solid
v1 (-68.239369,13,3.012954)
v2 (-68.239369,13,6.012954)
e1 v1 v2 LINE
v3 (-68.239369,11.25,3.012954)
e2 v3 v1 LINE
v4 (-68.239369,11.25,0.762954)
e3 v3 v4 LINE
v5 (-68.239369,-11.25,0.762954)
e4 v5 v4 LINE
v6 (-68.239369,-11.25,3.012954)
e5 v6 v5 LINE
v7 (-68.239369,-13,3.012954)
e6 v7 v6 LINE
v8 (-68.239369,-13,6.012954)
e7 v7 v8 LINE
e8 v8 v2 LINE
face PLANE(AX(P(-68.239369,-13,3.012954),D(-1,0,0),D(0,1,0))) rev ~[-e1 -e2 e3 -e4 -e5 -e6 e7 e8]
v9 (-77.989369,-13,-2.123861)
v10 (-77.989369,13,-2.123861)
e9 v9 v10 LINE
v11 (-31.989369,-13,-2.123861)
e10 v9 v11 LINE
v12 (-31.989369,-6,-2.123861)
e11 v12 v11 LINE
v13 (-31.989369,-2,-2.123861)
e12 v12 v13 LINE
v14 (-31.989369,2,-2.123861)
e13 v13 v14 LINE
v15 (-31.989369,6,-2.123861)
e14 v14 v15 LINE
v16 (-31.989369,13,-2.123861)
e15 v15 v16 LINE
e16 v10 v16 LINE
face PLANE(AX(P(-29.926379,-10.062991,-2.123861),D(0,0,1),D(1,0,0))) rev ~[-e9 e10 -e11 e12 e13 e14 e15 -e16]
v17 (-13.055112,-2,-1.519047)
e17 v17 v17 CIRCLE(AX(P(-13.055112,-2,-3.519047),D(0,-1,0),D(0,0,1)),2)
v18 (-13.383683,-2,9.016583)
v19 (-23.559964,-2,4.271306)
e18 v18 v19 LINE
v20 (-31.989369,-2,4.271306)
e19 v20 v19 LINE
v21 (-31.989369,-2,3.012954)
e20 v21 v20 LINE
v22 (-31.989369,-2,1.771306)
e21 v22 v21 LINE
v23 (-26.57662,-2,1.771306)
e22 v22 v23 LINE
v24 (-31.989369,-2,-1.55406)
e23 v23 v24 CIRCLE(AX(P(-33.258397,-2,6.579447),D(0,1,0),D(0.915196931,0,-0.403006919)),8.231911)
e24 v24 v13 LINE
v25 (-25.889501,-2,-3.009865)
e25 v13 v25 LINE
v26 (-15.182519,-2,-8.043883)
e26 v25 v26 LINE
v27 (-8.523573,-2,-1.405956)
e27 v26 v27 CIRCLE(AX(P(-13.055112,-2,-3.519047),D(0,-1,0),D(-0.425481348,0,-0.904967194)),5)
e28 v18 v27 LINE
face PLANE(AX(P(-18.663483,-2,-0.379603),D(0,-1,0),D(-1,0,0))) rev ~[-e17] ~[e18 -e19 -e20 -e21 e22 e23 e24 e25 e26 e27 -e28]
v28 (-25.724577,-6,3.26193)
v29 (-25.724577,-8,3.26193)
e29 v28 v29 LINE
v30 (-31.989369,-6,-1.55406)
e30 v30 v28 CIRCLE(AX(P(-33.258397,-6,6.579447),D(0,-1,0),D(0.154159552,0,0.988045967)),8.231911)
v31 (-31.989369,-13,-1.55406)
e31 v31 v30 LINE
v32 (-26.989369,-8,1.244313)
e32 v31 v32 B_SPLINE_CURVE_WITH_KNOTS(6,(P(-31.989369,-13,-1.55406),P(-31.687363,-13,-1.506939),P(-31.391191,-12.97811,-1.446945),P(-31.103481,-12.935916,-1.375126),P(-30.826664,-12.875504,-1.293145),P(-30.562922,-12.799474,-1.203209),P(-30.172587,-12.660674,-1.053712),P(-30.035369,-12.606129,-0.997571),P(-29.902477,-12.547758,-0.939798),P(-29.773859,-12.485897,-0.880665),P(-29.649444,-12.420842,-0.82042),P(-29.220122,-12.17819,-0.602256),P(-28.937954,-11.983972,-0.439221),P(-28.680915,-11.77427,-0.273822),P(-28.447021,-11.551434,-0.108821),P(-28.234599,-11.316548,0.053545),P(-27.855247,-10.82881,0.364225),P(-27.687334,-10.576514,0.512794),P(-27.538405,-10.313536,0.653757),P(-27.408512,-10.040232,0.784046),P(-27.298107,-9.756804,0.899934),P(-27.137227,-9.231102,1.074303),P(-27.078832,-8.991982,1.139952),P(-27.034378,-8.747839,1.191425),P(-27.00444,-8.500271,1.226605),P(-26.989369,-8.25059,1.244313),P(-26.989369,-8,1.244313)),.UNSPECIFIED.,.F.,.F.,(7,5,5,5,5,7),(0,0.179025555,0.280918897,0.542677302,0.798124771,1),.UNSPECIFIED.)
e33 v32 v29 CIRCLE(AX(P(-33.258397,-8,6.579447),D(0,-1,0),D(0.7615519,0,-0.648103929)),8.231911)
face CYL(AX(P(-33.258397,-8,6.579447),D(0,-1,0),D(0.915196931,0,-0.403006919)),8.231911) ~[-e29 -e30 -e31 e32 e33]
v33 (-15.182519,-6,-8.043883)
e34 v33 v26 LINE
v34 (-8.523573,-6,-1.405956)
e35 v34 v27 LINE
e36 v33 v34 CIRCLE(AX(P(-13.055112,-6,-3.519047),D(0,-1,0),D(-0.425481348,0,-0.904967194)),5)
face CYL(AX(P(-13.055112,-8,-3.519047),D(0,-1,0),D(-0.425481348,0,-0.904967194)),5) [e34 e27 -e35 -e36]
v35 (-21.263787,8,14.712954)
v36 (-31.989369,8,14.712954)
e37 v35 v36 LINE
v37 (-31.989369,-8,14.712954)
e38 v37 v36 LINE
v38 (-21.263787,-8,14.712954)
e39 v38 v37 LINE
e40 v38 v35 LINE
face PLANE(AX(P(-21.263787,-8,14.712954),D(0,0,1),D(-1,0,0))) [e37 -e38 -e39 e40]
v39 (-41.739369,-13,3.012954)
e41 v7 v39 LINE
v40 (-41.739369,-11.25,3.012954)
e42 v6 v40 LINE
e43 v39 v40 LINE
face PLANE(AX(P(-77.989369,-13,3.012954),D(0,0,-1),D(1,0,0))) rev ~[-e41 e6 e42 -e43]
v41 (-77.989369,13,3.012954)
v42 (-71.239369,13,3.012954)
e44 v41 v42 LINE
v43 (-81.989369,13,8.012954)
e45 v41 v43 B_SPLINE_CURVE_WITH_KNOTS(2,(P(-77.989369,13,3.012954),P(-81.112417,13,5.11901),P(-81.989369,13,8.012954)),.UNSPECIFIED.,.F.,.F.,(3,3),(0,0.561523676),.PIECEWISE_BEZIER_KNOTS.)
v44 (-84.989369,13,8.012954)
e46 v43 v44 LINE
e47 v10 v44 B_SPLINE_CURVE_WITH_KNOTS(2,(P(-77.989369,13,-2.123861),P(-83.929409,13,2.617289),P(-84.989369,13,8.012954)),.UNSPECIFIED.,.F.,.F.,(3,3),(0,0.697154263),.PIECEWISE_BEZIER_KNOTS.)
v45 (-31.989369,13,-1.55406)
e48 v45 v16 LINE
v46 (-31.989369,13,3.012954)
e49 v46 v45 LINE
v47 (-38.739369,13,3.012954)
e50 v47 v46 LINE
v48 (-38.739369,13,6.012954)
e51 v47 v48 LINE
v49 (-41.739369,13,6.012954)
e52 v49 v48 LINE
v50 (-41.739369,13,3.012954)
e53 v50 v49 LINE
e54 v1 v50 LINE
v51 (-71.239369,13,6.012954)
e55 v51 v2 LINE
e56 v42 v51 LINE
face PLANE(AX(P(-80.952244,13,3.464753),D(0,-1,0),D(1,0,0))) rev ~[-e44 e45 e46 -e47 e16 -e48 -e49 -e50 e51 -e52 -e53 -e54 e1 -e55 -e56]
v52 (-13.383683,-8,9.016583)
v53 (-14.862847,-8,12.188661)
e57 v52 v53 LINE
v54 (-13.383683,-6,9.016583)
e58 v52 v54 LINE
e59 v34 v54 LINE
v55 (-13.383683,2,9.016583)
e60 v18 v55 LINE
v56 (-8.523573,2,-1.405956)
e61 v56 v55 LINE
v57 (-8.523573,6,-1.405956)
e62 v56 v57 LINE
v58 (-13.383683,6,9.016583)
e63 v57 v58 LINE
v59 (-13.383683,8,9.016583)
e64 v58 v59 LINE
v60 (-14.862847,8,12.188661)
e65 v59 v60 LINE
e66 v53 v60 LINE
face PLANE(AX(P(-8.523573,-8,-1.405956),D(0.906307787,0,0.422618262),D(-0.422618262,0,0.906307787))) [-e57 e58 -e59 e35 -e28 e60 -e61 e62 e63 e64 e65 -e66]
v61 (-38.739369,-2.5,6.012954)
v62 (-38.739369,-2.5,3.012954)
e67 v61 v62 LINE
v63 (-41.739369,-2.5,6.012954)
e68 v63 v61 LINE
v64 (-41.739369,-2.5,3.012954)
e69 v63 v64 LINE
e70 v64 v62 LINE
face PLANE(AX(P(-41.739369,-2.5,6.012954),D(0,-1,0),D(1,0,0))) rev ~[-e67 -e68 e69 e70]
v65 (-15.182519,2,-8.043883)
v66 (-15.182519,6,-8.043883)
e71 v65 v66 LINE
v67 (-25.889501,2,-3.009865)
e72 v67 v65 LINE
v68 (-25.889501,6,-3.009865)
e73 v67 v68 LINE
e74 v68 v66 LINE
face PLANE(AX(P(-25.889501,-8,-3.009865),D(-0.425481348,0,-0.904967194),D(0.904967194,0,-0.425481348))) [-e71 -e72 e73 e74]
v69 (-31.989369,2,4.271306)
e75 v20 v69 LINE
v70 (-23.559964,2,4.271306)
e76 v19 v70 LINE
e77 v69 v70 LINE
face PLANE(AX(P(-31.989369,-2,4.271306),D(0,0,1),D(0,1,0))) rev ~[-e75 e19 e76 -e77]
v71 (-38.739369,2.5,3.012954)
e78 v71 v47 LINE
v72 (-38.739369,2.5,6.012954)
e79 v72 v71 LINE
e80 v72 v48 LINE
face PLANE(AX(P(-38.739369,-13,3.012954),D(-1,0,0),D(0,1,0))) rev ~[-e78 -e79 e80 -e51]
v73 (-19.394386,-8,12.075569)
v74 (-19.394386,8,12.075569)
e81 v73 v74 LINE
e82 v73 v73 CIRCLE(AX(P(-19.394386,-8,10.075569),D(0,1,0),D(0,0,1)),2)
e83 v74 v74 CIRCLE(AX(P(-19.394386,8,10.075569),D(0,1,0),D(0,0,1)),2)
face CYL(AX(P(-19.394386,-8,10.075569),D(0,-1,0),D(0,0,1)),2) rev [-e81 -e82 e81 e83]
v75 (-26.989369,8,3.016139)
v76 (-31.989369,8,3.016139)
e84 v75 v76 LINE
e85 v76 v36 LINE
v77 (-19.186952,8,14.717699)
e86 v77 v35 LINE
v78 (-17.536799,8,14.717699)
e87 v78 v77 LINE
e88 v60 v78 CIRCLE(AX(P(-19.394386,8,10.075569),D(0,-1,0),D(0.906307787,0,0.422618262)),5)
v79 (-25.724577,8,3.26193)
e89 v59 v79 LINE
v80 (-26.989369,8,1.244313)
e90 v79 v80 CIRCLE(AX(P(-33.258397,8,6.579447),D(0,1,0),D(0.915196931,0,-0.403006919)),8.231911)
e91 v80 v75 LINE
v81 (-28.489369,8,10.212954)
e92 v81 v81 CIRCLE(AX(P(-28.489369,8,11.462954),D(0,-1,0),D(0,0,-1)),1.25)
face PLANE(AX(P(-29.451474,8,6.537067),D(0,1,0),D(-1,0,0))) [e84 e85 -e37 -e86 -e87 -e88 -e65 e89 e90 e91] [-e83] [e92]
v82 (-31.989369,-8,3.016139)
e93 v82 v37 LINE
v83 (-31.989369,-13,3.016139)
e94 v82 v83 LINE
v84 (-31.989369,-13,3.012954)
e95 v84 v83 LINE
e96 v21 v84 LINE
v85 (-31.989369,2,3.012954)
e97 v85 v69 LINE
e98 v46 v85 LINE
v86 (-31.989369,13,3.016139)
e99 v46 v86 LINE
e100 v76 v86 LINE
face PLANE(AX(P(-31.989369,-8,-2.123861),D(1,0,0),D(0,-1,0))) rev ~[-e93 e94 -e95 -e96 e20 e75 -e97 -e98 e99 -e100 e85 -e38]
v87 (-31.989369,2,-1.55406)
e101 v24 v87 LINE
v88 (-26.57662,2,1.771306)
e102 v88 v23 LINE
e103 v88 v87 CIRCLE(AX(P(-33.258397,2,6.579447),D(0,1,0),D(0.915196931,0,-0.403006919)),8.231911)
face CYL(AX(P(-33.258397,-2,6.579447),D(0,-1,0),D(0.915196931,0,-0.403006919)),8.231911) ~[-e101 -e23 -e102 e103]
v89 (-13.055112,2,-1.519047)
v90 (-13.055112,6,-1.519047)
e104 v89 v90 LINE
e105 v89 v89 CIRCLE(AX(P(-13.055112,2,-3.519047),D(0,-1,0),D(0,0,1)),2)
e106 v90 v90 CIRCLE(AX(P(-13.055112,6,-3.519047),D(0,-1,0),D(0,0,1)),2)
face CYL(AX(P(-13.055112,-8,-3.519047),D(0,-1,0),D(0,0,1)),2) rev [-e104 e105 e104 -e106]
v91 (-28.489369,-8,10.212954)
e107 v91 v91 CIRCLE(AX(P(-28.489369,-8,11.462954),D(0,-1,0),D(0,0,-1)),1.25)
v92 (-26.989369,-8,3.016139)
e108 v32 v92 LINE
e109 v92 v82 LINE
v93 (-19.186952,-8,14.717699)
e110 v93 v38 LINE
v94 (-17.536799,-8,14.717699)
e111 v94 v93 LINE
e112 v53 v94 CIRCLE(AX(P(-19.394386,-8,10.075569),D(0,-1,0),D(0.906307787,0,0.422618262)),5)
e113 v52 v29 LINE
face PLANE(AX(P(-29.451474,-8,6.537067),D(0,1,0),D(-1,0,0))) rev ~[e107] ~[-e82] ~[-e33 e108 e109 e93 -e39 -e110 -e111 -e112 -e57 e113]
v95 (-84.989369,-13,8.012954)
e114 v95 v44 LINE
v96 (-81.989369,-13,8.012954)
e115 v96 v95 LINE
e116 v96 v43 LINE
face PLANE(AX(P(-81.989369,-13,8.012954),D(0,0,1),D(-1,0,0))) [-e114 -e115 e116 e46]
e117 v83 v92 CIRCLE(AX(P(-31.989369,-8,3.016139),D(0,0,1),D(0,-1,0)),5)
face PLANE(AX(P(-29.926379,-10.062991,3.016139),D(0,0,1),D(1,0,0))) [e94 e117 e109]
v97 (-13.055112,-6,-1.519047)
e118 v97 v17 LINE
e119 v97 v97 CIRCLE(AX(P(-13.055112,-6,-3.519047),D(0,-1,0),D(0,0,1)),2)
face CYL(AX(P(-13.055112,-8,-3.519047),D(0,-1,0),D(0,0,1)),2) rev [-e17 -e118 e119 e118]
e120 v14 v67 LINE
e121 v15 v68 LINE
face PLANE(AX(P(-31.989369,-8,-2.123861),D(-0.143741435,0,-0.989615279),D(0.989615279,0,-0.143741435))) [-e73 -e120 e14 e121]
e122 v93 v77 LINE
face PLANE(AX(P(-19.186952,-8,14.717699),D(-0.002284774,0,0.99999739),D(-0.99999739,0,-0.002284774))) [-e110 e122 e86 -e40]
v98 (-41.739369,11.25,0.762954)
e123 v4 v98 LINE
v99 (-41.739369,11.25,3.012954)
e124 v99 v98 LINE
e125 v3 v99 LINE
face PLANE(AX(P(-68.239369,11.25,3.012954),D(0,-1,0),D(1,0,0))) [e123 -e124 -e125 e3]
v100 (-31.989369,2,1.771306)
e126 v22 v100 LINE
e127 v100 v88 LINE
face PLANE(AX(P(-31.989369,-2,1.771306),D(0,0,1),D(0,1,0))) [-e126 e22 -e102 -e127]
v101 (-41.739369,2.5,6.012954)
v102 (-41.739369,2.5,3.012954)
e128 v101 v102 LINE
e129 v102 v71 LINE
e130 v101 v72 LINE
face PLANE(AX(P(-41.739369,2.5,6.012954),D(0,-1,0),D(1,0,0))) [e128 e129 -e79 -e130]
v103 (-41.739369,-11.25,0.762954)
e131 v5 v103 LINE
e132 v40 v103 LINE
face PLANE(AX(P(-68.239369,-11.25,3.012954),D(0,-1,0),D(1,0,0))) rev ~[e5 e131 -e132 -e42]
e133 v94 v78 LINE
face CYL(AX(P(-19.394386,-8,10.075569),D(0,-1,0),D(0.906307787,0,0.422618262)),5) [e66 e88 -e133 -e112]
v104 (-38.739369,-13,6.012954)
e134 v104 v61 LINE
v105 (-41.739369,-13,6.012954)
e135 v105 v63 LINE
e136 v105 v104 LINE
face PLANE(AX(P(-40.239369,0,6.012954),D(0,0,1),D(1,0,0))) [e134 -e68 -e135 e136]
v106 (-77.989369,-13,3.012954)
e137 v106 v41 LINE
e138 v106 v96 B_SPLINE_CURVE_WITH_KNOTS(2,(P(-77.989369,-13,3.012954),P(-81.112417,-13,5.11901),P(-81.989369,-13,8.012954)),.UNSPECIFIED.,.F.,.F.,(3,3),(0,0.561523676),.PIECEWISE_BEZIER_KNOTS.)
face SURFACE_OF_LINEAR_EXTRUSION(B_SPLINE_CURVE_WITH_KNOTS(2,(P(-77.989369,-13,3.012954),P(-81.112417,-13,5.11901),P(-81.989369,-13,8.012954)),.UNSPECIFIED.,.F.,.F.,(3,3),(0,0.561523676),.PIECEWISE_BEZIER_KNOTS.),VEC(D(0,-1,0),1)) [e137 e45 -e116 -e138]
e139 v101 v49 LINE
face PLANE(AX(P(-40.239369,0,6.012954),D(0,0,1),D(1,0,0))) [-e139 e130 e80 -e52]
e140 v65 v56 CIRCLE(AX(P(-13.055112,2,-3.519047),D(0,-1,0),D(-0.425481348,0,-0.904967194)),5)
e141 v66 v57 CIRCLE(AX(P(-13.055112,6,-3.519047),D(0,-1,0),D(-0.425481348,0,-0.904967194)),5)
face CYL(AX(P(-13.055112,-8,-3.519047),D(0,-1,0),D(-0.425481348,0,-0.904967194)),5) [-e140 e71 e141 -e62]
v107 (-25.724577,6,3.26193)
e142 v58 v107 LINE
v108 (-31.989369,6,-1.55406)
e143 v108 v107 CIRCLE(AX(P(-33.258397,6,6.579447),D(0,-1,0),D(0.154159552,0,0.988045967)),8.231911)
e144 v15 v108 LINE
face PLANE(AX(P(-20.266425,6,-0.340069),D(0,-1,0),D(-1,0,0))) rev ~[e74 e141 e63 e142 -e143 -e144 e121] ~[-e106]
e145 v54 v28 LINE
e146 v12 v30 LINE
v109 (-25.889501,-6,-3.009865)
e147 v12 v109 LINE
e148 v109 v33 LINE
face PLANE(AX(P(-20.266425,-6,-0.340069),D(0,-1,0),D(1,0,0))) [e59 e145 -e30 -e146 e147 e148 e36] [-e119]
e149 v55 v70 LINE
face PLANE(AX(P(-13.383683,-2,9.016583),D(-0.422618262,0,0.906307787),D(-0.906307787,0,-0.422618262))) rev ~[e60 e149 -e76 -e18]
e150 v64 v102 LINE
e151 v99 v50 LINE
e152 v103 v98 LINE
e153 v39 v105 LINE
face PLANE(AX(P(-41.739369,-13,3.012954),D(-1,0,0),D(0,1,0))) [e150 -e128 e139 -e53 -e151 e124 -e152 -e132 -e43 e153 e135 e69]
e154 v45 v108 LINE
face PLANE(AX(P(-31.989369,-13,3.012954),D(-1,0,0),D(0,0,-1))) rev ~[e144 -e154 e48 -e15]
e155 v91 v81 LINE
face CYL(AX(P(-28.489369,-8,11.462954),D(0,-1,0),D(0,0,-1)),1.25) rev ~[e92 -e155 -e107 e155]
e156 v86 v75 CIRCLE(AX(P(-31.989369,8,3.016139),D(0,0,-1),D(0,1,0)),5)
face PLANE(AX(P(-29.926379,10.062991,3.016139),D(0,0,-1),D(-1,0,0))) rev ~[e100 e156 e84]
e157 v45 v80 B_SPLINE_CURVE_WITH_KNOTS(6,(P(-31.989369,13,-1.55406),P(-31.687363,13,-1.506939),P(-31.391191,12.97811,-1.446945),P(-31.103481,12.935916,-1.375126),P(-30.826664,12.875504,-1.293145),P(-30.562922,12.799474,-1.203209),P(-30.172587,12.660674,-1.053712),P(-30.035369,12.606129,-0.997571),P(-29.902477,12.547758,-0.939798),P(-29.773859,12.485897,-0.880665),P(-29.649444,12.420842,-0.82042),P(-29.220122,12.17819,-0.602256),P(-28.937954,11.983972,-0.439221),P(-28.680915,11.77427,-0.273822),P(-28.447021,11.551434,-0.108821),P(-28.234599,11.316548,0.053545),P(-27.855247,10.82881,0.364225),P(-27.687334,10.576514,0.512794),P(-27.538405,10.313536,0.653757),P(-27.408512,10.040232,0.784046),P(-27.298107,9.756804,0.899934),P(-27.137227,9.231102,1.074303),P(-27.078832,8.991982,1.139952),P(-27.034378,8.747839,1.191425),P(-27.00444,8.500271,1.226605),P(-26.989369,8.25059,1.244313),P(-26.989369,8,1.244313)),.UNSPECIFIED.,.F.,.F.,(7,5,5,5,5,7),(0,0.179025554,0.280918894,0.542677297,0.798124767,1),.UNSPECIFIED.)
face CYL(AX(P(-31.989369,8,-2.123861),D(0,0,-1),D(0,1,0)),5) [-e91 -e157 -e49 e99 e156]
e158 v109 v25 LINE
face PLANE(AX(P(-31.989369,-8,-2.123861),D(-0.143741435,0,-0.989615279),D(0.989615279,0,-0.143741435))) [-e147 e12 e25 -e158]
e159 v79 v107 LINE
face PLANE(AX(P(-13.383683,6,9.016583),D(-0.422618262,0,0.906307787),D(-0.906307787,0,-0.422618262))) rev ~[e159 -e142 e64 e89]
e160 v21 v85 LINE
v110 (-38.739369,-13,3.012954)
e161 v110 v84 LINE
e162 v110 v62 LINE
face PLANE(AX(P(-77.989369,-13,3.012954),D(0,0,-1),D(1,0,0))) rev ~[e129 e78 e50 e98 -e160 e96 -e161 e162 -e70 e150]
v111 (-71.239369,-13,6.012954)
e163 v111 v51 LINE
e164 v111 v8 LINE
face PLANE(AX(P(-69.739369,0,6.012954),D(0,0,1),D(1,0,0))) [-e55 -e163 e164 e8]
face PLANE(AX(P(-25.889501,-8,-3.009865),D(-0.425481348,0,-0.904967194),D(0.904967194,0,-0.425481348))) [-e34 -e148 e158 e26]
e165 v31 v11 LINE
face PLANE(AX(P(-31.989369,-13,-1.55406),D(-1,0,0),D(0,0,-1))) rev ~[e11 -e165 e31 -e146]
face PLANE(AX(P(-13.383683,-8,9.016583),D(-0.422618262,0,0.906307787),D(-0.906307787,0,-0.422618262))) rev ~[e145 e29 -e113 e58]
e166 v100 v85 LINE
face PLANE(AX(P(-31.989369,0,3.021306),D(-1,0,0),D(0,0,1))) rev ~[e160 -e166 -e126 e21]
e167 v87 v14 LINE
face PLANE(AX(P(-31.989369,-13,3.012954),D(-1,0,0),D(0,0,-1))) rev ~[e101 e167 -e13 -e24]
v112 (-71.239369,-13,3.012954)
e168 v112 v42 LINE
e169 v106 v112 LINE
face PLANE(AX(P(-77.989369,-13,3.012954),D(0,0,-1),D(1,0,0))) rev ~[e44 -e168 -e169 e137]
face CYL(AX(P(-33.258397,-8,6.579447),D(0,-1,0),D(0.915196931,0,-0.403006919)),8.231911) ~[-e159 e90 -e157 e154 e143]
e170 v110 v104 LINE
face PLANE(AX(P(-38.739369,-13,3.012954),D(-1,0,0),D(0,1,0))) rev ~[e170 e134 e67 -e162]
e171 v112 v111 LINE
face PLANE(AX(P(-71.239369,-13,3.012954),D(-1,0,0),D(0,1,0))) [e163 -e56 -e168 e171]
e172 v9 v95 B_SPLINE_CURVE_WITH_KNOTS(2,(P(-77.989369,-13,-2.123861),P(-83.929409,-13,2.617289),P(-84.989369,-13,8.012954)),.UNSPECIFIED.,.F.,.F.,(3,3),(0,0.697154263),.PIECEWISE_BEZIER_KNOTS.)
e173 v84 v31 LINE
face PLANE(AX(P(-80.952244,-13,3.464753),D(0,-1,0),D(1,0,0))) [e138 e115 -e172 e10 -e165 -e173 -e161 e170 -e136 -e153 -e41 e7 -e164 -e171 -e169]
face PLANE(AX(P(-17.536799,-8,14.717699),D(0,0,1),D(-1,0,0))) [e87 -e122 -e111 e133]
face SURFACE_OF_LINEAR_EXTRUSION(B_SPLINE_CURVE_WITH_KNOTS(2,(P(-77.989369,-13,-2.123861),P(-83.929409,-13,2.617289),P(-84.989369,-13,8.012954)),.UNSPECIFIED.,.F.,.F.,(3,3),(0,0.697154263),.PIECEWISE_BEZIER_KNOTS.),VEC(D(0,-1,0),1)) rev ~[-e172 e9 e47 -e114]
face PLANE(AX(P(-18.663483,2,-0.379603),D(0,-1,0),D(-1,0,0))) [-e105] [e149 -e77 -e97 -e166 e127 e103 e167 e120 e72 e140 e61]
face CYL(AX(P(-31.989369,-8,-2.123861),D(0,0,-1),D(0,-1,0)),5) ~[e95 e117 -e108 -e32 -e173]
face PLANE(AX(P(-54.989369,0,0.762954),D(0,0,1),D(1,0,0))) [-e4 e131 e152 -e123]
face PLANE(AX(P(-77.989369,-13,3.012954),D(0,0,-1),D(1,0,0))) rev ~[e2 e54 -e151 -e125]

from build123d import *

# Parameters (mm, degrees)
BOSS_EXTRUDE1_DEPTH      = 8
BOSS_EXTRUDE1_DEPTH_BACK = 8
SKETCH2_R                = 2
CUT_EXTRUDE1_DEPTH       = 2
CUT_EXTRUDE2_START       = -2
CUT_EXTRUDE2_DEPTH       = 2
BOSS_EXTRUDE4_DEPTH      = 16
CUT_EXTRUDE4_DEPTH       = 2
CUT_EXTRUDE4_DEPTH_BACK  = 2
BOSS_EXTRUDE6_DEPTH      = 13
BOSS_EXTRUDE6_DEPTH_BACK = 13
SKETCH12_W               = 46
SKETCH12_H               = 5.136814738
SKETCH13_R               = 1.25
CUT_EXTRUDE5_DEPTH       = 16
BOSS_EXTRUDE7_DEPTH      = 26
SKETCH15_W               = 3
SKETCH15_H               = 26
BOSS_EXTRUDE8_DEPTH      = 3
SKETCH20_W               = 2.5
SKETCH20_H               = 4
CUT_EXTRUDE8_DEPTH       = 57.520887153
BOSS_EXTRUDE9_DEPTH      = 5.14
CUT_EXTRUDE9_START       = -5.14
CUT_EXTRUDE9_DEPTH       = 5.14
BOSS_EXTRUDE10_DEPTH     = 5.14
CUT_EXTRUDE10_DEPTH      = 5.14
SKETCH25_W               = 26.5
SKETCH25_H               = 22.5
CUT_EXTRUDE11_DEPTH      = 2.25
SKETCH26_W               = 3
SKETCH26_H               = 5
CUT_EXTRUDE12_DEPTH      = 3


with BuildPart() as part:
    # Sketch2 → Boss-Extrude1 (new, two sides: drawn at the far end of the back side and taken through both)
    with BuildSketch(Plane(origin=(0, 0, 0), x_dir=(1, 0, 0), z_dir=(0, 1, 0)).offset(-BOSS_EXTRUDE1_DEPTH_BACK)):
        with BuildLine():
            Line((-8.523572923, 1.405956139), (-14.862846849, -12.188660667))
            ThreePointArc((-14.862846849, -12.188660667), (-15.958655574, -13.708165939), (-17.536798633, -14.717699254))
            Line((-17.536798633, -14.717699254), (-19.186952062, -14.717699254))
            Line((-19.186952062, -14.717699254), (-21.263787389, -14.712954143))
            Line((-21.263787389, -14.712954143), (-31.98936925, -14.712954143))
            ThreePointArc((-31.98936925, -14.712954143), (-25.026485616, -6.579447275), (-31.98936925, 1.554059594))
            Line((-31.98936925, 1.554059594), (-31.98936925, 2.123860595))
            Line((-31.98936925, 2.123860595), (-25.889500724, 3.009865365))
            Line((-25.889500724, 3.009865365), (-15.1825186, 8.043883417))
            ThreePointArc((-15.1825186, 8.043883417), (-9.525170989, 7.060165556), (-8.523572923, 1.405956139))
        make_face()
        with Locations(Location((-19.394385785, -10.075569358, 0), (0, 0, 270))):
            Circle(SKETCH2_R, mode=Mode.SUBTRACT)
        with Locations(Location((-13.055111858, 3.519047448, 0), (0, 0, 270))):
            Circle(SKETCH2_R, mode=Mode.SUBTRACT)
    extrude(amount=BOSS_EXTRUDE1_DEPTH + BOSS_EXTRUDE1_DEPTH_BACK)

    # Sketch3 → Cut-Extrude1 (cut)
    with BuildSketch(Plane.XZ.offset(8)):
        with BuildLine():
            Line((-13.383682933, 9.016583412), (-36.019194906, -1.538529167))
            Line((-36.019194906, -1.538529167), (-25.889500724, -3.009865365))
            Line((-25.889500724, -3.009865365), (-15.1825186, -8.043883417))
            ThreePointArc((-15.1825186, -8.043883417), (-9.525170989, -7.060165556), (-8.523572923, -1.405956139))
            Line((-8.523572923, -1.405956139), (-13.383682933, 9.016583412))
        make_face()
    extrude(amount=-CUT_EXTRUDE1_DEPTH, mode=Mode.SUBTRACT)

    # Sketch4 → Cut-Extrude2 (cut)
    with BuildSketch(Plane(origin=(0, 8, 0), x_dir=(1, 0, 0), z_dir=(0, 1, 0)).offset(CUT_EXTRUDE2_START)):
        with BuildLine():
            Line((-13.383682933, -9.016583412), (-36.019194906, 1.538529167))
            Line((-36.019194906, 1.538529167), (-25.889500724, 3.009865365))
            Line((-25.889500724, 3.009865365), (-15.1825186, 8.043883417))
            ThreePointArc((-15.1825186, 8.043883417), (-9.525170989, 7.060165556), (-8.523572923, 1.405956139))
            Line((-8.523572923, 1.405956139), (-13.383682933, -9.016583412))
        make_face()
    extrude(amount=CUT_EXTRUDE2_DEPTH, mode=Mode.SUBTRACT)

    # Sketch7 → Boss-Extrude4 (add)
    with BuildSketch(Plane.XZ.offset(8)):
        with BuildLine():
            Line((-31.98936925, -1.554059594), (-31.98936925, 14.712954143))
            ThreePointArc((-31.98936925, 14.712954143), (-26.036622944, 10.530440134), (-25.724576966, 3.261930016))
            ThreePointArc((-25.724576966, 3.261930016), (-28.241329009, 0.053085809), (-31.98936925, -1.554059594))
        make_face()
    extrude(amount=-BOSS_EXTRUDE4_DEPTH)

    # Sketch10 → Cut-Extrude4 (cut, two sides: drawn at the far end of the back side and taken through both)
    with BuildSketch(Plane(origin=(0, 0, 0), x_dir=(1, 0, 0), z_dir=(0, 1, 0)).offset(-CUT_EXTRUDE4_DEPTH_BACK)):
        with BuildLine():
            Line((-25.889500724, 3.009865365), (-15.1825186, 8.043883417))
            ThreePointArc((-15.1825186, 8.043883417), (-9.525170989, 7.060165556), (-8.523572923, 1.405956139))
            Line((-8.523572923, 1.405956139), (-13.383682933, -9.016583412))
            Line((-13.383682933, -9.016583412), (-25.724576966, -3.261930016))
            ThreePointArc((-25.724576966, -3.261930016), (-28.241329009, -0.053085809), (-31.98936925, 1.554059594))
            Line((-31.98936925, 1.554059594), (-31.98936925, 2.123860595))
            Line((-31.98936925, 2.123860595), (-25.889500724, 3.009865365))
        make_face()
    extrude(amount=CUT_EXTRUDE4_DEPTH + CUT_EXTRUDE4_DEPTH_BACK, mode=Mode.SUBTRACT)

    # Sketch12 → Boss-Extrude6 (add, two sides: drawn at the far end of the back side and taken through both)
    with BuildSketch(Plane(origin=(0, 0, 0), x_dir=(1, 0, 0), z_dir=(0, 1, 0)).offset(-BOSS_EXTRUDE6_DEPTH_BACK)):
        with Locations((-54.98936925, -0.444546774)):
            Rectangle(SKETCH12_W, SKETCH12_H)
    extrude(amount=BOSS_EXTRUDE6_DEPTH + BOSS_EXTRUDE6_DEPTH_BACK)

    # Sketch13 → Cut-Extrude5 (cut)
    with BuildSketch(Plane.XZ.offset(8)):
        with Locations(Location((-28.48936925, 11.462954143, 0), (0, 0, 270))):
            Circle(SKETCH13_R)
    extrude(amount=-CUT_EXTRUDE5_DEPTH, mode=Mode.SUBTRACT)

    # Sketch14 → Boss-Extrude7 (add)
    with BuildSketch(Plane.XZ.offset(13)):
        with BuildLine():
            Line((-81.98936925, 8.012954143), (-84.98936925, 8.012954143))
            add(Edge.make_bspline(
                [(-77.98936925, -2.123860595), (-83.929409171, 2.617289227), (-84.98936925, 8.012954143)],
                knots=[0, 0, 0, 0.697154263, 0.697154263, 0.697154263], degree=2))
            Line((-77.98936925, -2.123860595), (-77.98936925, 3.012954143))
            add(Edge.make_bspline(
                [(-77.98936925, 3.012954143), (-81.112416602, 5.119010403), (-81.98936925, 8.012954143)],
                knots=[0, 0, 0, 0.561523676, 0.561523676, 0.561523676], degree=2))
        make_face()
    extrude(amount=-BOSS_EXTRUDE7_DEPTH)

    # Sketch15 → Boss-Extrude8 (add)
    with BuildSketch(Plane.XY.offset(3.012954143)):
        with Locations((-40.23936925, 0)):
            Rectangle(SKETCH15_W, SKETCH15_H)
        with Locations((-69.73936925, 0)):
            Rectangle(SKETCH15_W, SKETCH15_H)
    extrude(amount=BOSS_EXTRUDE8_DEPTH)

    # Sketch20 → Cut-Extrude8 (cut, through all)
    with BuildSketch(Plane.ZY.offset(31.98936925)):
        with Locations((3.021305608, 0)):
            Rectangle(SKETCH20_W, SKETCH20_H)
    extrude(amount=-CUT_EXTRUDE8_DEPTH, mode=Mode.SUBTRACT)

    # Sketch21 → Boss-Extrude9 (add)
    with BuildSketch(Plane(origin=(0, 0, -2.123860595), x_dir=(-1, 0, 0), z_dir=(0, 0, -1))):
        with BuildLine():
            Line((26.98936925, 8), (31.98936925, 8))
            Line((31.98936925, 8), (31.98936925, 13))
            ThreePointArc((31.98936925, 13), (28.453835344, 11.535533906), (26.98936925, 8))
        make_face()
    extrude(amount=-BOSS_EXTRUDE9_DEPTH)

    # Sketch22 → Cut-Extrude9 (cut)
    with BuildSketch(Plane(origin=(0, 13, 0), x_dir=(1, 0, 0), z_dir=(0, 1, 0)).offset(CUT_EXTRUDE9_START)):
        with BuildLine():
            Line((-31.98936925, 2.123860595), (-31.98936925, 1.554059594))
            ThreePointArc((-31.98936925, 1.554059594), (-29.238037233, 0.603941382), (-26.98936925, -1.244313143))
            Line((-26.98936925, -1.244313143), (-26.98936925, 2.123860595))
            Line((-26.98936925, 2.123860595), (-31.98936925, 2.123860595))
        make_face()
    extrude(amount=CUT_EXTRUDE9_DEPTH, mode=Mode.SUBTRACT)

    # Sketch23 → Boss-Extrude10 (add)
    with BuildSketch(Plane(origin=(0, 0, -2.123860595), x_dir=(-1, 0, 0), z_dir=(0, 0, -1))):
        with BuildLine():
            Line((31.98936925, -8), (31.98936925, -13))
            ThreePointArc((31.98936925, -13), (28.453835344, -11.535533906), (26.98936925, -8))
            Line((26.98936925, -8), (31.98936925, -8))
        make_face()
    extrude(amount=-BOSS_EXTRUDE10_DEPTH)

    # Sketch24 → Cut-Extrude10 (cut)
    with BuildSketch(Plane.XZ.offset(13)):
        with BuildLine():
            Line((-31.98936925, -1.554059594), (-31.98936925, -2.123860595))
            Line((-31.98936925, -2.123860595), (-25.837669131, -2.123860595))
            Line((-25.837669131, -2.123860595), (-25.837669131, 3.016139405))
            ThreePointArc((-25.837669131, 3.016139405), (-26.35642668, 2.093115722), (-26.98936925, 1.244313143))
            ThreePointArc((-26.98936925, 1.244313143), (-29.238037233, -0.603941382), (-31.98936925, -1.554059594))
        make_face()
    extrude(amount=-CUT_EXTRUDE10_DEPTH, mode=Mode.SUBTRACT)

    # Sketch25 → Cut-Extrude11 (cut)
    with BuildSketch(Plane.XY.offset(3.012954143)):
        with Locations((-54.98936925, 0)):
            Rectangle(SKETCH25_W, SKETCH25_H)
    extrude(amount=-CUT_EXTRUDE11_DEPTH, mode=Mode.SUBTRACT)

    # Sketch26 → Cut-Extrude12 (cut)
    with BuildSketch(Plane.XY.offset(6.012954143)):
        with Locations((-40.23936925, 0)):
            Rectangle(SKETCH26_W, SKETCH26_H)
    extrude(amount=-CUT_EXTRUDE12_DEPTH, mode=Mode.SUBTRACT)


solid = part.part
